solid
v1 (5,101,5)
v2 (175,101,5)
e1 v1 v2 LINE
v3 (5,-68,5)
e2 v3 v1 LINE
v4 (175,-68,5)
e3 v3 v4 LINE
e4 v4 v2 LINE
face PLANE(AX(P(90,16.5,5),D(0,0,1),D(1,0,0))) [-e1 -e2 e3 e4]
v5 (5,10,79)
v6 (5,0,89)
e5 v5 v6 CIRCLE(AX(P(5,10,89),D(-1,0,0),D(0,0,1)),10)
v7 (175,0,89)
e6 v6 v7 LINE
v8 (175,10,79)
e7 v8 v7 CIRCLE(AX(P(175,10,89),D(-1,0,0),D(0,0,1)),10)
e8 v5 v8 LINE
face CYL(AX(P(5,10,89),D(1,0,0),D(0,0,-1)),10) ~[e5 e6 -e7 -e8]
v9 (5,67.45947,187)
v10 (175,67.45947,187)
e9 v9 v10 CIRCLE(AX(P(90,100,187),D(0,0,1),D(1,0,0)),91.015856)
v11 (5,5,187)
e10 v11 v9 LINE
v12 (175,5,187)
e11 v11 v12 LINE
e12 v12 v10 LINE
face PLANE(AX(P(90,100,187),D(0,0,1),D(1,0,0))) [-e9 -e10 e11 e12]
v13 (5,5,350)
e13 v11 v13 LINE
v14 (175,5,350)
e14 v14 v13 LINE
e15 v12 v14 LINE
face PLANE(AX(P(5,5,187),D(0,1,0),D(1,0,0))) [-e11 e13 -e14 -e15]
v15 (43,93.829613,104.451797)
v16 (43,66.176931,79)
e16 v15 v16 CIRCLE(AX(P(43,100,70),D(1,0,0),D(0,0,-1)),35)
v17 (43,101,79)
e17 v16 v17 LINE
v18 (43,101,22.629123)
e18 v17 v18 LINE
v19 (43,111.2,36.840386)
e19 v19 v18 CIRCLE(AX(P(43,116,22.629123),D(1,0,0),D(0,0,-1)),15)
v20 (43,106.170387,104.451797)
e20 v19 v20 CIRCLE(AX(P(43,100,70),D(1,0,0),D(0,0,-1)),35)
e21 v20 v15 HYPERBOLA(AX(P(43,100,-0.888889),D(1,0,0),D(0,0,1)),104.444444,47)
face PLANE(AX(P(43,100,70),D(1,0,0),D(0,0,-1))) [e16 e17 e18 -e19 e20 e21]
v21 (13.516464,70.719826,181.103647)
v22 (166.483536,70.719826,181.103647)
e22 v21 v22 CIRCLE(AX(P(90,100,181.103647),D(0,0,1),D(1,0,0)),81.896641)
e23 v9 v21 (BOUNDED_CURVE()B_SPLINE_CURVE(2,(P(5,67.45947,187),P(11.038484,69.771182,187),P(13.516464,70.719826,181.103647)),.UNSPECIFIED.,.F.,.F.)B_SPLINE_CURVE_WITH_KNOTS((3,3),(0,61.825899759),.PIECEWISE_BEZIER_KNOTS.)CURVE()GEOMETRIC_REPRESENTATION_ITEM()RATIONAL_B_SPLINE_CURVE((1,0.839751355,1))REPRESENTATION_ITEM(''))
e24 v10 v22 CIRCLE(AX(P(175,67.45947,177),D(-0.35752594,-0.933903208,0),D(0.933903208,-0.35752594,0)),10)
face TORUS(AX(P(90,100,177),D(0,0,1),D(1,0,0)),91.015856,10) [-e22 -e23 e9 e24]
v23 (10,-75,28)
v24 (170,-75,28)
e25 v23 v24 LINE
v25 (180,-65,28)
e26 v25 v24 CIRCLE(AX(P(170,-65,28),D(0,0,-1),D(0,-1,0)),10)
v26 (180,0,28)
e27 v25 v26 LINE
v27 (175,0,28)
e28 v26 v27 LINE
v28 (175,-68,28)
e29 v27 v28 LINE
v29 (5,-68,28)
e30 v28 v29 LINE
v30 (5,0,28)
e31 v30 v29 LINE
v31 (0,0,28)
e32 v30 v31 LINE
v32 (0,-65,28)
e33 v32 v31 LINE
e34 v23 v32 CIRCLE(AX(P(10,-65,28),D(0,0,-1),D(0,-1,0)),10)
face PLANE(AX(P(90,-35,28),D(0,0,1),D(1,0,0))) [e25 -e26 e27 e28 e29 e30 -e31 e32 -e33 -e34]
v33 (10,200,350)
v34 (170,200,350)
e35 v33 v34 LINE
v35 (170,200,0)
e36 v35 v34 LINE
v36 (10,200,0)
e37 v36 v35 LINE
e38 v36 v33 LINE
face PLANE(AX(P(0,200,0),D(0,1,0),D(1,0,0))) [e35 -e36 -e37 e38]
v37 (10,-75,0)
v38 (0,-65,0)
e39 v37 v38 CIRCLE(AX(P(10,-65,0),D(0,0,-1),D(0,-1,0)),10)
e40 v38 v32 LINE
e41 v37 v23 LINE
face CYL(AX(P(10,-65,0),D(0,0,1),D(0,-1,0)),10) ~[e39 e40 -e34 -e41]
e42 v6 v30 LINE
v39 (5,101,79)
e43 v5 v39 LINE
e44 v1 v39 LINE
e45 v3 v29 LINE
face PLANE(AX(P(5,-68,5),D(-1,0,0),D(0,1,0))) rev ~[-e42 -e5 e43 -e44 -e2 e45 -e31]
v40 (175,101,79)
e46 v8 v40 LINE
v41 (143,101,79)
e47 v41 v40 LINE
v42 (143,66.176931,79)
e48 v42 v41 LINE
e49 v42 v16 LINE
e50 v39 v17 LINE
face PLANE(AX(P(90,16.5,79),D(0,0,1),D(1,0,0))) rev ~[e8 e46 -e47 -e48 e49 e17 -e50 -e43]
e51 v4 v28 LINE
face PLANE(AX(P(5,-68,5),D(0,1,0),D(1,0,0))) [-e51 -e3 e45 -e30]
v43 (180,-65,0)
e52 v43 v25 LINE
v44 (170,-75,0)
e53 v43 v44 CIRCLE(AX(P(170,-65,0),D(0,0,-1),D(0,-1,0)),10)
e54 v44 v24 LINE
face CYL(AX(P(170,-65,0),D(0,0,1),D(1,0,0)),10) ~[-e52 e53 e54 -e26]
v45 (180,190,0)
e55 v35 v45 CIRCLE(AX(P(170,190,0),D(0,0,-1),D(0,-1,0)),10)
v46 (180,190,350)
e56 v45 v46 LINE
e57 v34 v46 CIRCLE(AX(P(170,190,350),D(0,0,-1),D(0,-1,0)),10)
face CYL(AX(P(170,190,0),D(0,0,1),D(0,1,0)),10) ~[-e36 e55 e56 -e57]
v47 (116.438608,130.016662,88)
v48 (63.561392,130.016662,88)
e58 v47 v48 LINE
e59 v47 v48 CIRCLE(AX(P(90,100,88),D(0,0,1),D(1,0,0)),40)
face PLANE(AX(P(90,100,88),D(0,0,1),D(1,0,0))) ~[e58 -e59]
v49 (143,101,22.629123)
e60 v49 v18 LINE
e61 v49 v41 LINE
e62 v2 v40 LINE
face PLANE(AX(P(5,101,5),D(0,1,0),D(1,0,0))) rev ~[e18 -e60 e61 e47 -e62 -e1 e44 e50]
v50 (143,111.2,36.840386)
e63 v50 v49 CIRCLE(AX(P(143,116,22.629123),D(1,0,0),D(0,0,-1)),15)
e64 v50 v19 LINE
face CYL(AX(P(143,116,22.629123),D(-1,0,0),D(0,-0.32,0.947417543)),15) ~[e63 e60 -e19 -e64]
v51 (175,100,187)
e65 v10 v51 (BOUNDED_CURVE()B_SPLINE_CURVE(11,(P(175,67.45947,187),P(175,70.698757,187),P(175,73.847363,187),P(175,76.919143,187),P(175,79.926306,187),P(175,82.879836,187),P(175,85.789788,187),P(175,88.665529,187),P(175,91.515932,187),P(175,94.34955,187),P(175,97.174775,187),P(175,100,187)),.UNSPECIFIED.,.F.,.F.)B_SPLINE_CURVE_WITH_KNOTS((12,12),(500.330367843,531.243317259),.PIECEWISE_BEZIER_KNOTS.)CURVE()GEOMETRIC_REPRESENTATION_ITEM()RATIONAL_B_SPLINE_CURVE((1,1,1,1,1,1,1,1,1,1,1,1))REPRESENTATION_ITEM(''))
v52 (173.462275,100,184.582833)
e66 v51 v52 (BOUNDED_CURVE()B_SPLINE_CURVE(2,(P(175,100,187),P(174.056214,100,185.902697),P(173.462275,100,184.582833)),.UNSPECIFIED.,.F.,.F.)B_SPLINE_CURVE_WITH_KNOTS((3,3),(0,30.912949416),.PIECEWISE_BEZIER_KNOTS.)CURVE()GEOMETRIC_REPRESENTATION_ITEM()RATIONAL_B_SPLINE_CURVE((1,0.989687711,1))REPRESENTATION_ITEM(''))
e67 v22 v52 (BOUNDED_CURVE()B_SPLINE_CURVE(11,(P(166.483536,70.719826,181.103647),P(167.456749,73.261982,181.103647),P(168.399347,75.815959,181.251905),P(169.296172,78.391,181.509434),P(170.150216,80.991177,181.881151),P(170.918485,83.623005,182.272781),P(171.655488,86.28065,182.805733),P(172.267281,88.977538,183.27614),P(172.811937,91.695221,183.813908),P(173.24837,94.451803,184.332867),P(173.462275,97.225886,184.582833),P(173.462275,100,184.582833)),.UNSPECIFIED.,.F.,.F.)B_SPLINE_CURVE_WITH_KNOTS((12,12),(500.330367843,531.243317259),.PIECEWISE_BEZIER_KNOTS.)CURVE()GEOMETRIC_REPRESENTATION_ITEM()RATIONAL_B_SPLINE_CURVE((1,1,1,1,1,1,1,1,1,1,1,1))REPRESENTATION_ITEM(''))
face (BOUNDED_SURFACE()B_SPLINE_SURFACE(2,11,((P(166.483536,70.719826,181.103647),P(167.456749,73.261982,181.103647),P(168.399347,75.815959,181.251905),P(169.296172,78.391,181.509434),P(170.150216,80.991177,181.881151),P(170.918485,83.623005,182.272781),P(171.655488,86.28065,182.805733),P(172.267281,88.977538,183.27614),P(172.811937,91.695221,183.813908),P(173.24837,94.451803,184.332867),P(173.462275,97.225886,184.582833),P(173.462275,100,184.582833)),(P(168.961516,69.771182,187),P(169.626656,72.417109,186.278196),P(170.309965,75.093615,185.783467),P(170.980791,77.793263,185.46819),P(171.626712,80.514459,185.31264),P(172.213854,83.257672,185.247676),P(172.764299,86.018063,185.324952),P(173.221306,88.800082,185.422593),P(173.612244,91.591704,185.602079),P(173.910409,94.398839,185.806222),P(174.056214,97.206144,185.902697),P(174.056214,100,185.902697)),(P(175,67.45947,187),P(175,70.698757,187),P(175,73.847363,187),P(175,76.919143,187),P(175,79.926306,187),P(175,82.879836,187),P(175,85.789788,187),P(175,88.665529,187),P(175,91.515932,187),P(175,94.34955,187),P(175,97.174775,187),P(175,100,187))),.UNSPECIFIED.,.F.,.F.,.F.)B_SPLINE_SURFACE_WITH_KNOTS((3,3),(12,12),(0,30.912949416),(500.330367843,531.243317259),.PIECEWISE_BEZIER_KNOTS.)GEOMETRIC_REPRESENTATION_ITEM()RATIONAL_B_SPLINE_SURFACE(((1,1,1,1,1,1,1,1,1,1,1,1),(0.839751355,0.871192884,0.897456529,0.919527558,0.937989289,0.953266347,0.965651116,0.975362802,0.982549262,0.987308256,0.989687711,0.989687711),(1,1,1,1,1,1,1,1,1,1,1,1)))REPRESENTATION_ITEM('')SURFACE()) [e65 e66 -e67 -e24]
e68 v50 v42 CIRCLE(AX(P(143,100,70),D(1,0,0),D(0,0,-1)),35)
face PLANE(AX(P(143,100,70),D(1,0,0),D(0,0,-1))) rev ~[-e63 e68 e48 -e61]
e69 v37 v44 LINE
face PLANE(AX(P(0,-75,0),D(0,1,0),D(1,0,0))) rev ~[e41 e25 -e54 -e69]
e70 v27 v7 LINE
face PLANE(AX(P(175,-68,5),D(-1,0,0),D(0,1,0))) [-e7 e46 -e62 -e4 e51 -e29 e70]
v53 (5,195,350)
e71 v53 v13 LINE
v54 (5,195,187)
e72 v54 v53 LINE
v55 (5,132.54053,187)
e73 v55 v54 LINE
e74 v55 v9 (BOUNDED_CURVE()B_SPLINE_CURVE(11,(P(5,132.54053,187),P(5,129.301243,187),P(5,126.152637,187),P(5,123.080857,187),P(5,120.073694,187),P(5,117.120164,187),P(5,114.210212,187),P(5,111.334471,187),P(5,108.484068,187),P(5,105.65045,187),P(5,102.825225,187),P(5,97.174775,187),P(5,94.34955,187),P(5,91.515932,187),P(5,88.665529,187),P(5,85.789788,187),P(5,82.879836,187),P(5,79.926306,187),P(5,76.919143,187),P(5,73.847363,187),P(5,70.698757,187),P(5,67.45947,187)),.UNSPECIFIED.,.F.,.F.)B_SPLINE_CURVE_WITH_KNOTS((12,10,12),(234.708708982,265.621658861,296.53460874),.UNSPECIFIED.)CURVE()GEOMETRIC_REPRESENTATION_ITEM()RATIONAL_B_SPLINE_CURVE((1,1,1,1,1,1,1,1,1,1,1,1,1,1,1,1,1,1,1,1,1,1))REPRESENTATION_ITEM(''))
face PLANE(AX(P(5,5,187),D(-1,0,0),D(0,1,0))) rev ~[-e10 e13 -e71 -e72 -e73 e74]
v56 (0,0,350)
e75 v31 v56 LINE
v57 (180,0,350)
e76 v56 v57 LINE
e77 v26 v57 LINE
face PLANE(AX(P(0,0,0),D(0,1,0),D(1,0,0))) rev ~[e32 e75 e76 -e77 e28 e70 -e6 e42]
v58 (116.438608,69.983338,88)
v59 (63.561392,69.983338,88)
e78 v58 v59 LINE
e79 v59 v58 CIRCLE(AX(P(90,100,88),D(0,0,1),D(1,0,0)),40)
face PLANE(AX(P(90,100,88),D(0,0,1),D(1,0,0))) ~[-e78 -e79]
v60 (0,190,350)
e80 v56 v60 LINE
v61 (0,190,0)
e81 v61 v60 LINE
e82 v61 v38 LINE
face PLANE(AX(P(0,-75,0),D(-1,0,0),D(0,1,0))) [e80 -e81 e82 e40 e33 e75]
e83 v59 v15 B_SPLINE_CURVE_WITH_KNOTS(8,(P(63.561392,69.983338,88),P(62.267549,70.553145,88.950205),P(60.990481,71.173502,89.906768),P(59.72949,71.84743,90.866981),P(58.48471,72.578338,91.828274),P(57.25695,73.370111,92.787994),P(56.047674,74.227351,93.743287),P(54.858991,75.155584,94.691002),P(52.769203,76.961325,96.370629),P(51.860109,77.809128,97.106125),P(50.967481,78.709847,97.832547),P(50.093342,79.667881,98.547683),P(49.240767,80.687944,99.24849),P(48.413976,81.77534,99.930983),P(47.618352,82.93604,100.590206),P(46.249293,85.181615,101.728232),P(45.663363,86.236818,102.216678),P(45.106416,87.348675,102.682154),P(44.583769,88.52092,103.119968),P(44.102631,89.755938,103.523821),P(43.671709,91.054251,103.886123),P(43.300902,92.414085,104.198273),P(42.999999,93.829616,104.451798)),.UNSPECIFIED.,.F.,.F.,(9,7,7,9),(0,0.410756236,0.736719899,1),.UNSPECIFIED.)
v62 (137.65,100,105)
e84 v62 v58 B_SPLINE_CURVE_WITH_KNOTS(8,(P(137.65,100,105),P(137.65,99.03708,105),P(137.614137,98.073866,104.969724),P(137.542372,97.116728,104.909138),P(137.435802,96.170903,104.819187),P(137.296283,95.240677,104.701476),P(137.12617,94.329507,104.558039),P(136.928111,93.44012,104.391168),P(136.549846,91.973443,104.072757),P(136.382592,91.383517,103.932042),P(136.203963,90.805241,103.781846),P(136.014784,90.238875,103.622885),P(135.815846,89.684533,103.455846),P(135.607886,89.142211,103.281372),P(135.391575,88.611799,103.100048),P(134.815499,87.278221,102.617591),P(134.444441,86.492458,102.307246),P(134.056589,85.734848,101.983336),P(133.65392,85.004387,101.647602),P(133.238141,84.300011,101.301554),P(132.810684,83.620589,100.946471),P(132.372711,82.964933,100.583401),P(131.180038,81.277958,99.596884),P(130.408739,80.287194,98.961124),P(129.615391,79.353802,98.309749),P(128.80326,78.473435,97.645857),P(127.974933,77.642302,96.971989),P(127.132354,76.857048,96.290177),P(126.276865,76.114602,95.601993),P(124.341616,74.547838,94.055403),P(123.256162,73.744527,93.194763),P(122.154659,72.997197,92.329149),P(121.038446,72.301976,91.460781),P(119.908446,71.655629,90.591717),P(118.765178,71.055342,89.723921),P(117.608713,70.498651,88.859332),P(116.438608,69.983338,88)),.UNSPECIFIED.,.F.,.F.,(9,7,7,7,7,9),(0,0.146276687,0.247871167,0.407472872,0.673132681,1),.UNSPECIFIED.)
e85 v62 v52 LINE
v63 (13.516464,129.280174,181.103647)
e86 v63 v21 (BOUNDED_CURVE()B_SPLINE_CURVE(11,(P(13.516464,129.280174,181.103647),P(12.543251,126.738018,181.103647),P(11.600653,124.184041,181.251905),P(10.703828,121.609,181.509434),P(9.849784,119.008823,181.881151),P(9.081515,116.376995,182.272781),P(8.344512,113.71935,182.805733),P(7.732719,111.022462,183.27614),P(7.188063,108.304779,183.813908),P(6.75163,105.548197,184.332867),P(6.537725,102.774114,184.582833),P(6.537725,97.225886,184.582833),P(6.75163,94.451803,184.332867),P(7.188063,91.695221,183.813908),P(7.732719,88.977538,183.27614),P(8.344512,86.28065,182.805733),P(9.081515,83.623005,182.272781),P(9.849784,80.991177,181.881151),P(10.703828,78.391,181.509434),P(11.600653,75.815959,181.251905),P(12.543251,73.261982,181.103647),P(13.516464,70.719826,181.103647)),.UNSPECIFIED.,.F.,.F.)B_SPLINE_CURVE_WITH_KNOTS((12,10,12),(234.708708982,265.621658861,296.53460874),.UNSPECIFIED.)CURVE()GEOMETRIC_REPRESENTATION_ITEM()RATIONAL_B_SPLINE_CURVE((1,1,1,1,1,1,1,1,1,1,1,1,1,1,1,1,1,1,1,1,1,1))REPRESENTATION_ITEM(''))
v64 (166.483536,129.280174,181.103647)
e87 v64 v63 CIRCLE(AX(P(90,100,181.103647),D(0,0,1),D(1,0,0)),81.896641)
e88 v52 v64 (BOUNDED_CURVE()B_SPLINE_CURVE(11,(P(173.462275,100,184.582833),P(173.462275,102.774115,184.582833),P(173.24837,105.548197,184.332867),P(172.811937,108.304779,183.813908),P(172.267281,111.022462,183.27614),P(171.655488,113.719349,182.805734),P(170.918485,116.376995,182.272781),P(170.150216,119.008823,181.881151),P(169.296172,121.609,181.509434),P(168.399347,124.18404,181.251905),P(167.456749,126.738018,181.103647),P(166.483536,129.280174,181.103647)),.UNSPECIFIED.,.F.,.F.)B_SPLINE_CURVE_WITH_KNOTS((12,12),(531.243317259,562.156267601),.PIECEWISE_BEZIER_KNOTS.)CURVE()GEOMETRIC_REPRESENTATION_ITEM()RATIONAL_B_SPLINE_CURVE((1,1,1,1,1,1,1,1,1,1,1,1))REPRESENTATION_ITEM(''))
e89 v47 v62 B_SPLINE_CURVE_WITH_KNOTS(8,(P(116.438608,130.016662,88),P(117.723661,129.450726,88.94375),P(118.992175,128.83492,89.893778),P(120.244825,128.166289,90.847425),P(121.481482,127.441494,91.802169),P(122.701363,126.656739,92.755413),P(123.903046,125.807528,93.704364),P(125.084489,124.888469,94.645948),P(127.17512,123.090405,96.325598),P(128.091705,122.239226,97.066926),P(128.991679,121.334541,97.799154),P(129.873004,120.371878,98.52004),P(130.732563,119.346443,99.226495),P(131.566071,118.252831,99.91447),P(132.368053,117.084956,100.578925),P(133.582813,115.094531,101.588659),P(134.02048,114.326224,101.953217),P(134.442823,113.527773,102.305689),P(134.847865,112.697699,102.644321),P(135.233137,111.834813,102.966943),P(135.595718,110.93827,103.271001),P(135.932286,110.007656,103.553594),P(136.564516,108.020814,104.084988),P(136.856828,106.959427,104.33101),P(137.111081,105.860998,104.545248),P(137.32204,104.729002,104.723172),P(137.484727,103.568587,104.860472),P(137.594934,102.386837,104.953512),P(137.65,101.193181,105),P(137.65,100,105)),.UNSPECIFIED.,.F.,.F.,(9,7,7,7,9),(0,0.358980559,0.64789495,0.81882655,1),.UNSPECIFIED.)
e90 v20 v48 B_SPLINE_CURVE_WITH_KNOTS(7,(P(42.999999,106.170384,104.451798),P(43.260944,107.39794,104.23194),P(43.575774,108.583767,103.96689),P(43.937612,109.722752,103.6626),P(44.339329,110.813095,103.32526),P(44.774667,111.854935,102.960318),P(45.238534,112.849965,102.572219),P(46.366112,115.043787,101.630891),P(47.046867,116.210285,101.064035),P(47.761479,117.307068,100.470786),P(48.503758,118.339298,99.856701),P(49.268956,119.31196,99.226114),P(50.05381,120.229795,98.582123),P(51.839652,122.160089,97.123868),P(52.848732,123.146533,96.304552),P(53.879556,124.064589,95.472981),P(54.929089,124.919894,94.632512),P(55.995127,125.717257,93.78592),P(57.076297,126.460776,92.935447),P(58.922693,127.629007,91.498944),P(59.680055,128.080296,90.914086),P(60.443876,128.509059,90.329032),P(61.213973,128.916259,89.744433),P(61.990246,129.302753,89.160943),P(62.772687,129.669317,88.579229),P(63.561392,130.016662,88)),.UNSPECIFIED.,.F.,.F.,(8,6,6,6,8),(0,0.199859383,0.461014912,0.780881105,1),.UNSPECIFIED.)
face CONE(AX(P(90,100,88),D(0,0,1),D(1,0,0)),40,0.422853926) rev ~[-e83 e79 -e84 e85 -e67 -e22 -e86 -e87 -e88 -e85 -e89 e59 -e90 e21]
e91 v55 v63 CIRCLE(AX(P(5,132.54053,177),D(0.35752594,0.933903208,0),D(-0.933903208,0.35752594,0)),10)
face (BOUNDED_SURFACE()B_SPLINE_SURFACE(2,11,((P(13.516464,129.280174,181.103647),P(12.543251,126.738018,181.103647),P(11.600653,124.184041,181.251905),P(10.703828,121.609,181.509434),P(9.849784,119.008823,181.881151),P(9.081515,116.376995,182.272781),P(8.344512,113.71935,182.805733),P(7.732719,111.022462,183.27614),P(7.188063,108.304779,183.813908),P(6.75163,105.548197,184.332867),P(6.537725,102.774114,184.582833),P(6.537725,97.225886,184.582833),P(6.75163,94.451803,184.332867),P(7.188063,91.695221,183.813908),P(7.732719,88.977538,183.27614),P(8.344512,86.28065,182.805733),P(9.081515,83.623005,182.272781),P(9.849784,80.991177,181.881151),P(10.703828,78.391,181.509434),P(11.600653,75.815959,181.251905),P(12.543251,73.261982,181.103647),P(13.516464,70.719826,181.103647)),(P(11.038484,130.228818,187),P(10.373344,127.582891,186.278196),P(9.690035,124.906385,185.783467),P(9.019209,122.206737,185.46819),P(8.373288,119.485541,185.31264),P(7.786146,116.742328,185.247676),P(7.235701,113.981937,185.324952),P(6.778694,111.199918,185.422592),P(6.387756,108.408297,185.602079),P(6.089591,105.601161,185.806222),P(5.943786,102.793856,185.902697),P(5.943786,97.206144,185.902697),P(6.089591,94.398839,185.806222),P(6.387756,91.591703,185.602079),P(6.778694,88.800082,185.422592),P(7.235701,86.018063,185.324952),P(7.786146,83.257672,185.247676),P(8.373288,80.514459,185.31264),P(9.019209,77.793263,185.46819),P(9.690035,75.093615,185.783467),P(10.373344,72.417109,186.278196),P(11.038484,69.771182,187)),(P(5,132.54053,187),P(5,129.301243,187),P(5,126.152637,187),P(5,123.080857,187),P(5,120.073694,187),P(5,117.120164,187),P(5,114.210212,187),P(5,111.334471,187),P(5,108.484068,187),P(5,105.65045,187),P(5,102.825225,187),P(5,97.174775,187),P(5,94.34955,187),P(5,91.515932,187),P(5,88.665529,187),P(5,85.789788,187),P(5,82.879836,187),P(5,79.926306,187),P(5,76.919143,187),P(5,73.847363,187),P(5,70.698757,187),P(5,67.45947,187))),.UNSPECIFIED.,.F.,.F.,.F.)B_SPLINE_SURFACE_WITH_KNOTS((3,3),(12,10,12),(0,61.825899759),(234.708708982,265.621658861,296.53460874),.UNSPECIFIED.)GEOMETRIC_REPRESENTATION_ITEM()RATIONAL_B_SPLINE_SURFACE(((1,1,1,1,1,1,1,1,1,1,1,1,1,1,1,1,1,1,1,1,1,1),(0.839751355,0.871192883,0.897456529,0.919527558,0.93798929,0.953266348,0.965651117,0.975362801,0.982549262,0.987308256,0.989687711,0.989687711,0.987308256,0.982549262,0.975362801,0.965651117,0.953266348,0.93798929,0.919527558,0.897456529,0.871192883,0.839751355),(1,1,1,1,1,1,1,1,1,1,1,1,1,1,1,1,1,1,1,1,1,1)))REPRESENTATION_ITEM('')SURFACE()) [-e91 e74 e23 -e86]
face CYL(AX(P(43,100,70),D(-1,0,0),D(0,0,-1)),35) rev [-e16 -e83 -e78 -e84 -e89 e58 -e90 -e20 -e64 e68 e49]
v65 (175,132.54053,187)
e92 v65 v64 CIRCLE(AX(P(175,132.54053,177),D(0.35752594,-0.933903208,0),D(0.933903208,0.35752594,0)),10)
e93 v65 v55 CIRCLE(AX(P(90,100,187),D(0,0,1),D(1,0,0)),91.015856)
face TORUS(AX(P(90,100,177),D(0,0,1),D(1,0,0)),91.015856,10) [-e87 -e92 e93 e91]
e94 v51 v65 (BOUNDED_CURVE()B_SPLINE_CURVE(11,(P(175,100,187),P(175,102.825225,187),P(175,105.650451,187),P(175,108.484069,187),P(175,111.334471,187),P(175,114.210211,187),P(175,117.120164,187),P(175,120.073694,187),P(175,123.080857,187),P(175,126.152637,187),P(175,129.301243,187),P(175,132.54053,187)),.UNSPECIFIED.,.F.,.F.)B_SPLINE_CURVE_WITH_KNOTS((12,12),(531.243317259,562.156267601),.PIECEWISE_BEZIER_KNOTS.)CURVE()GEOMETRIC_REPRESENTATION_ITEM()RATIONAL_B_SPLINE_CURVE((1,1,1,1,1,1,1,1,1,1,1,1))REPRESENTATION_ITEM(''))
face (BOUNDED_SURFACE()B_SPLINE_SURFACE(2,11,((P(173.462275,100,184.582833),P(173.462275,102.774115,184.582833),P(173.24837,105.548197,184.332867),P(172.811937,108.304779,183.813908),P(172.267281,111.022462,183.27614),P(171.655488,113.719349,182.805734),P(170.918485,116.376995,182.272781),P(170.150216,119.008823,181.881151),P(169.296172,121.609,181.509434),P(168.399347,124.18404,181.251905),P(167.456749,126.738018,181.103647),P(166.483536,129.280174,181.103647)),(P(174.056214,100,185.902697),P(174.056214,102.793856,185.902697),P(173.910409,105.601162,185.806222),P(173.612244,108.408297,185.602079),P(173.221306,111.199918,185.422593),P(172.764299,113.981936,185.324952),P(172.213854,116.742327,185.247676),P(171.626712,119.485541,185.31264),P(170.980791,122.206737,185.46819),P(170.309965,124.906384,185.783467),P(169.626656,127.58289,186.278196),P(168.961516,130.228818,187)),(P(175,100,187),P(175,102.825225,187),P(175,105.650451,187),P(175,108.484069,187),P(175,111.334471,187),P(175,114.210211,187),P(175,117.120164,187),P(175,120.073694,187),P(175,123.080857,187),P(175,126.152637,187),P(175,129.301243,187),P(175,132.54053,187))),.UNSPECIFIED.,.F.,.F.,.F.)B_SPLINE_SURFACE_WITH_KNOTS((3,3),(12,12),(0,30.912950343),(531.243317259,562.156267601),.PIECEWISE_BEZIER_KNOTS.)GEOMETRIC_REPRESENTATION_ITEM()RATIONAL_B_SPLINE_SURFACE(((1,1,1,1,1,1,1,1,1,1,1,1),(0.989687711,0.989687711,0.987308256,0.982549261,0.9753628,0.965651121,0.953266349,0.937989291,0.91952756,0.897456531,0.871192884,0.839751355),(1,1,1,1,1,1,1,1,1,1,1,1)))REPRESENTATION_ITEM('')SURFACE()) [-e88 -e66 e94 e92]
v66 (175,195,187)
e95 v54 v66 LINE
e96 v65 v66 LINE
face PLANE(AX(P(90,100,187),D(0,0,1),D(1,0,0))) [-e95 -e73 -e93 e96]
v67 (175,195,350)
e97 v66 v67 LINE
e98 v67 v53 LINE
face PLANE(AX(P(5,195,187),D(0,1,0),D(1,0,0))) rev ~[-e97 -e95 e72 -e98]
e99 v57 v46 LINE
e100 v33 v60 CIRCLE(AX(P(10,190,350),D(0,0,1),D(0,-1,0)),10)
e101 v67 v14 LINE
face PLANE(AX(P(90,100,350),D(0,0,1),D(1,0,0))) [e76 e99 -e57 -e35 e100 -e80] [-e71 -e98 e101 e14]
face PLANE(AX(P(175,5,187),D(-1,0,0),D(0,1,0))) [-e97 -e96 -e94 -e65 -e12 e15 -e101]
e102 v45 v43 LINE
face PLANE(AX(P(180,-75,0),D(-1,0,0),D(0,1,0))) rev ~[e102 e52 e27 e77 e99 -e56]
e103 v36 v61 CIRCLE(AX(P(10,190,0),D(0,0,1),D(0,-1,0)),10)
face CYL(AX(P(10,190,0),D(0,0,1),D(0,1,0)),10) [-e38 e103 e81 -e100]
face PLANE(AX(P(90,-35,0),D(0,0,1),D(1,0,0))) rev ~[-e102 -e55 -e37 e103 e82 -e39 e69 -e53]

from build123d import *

# Parameters (mm, degrees)
CYLINDER_R           = 35
CYLINDER_DEPTH       = 100
CYLINDER_PITCH_ANGLE = 90
BOX003_W             = 170
BOX003_H             = 169
BOX003_DEPTH         = 74
BOX001_W             = 170
BOX001_H             = 190
BOX001_DEPTH         = 166
BOX_W                = 180
BOX_H                = 200
BOX_DEPTH            = 350
BOX002_W             = 180
BOX002_H             = 80
BOX002_DEPTH         = 28
FILLET_R             = 10
FILLET001_R          = 10
FILLET002_R          = 10
FILLET003_R          = 10
FILLET004_R          = 10
FILLET005_R          = 15
FILLET006_R          = 10


with BuildPart() as cylinder:
    # Cylinder → Cylinder (new body)
    with BuildSketch(Plane.XY):
        Circle(CYLINDER_R)
    extrude(amount=CYLINDER_DEPTH)


with BuildPart() as cylinder_1:
    # Cylinder pitch: moved
    add(cylinder.part.rotate(Axis((0, 0, 0), (0, 1, 0)), CYLINDER_PITCH_ANGLE))


with BuildPart() as cylinder_2:
    # Cylinder placement: moved
    add(cylinder_1.part.moved(Location((43, 100, 70))))


with BuildPart() as cube003:
    # Box003 → Box003 (new body)
    with BuildSketch(Plane(origin=(5, -68, 5), x_dir=(1, 0, 0), z_dir=(0, 0, 1))):
        with Locations((85, 84.5)):
            Rectangle(BOX003_W, BOX003_H)
    extrude(amount=BOX003_DEPTH)


with BuildPart() as cube001:
    # Box001 → Box001 (new body)
    with BuildSketch(Plane(origin=(5, 5, 187), x_dir=(1, 0, 0), z_dir=(0, 0, 1))):
        with Locations((85, 95)):
            Rectangle(BOX001_W, BOX001_H)
    extrude(amount=BOX001_DEPTH)


with BuildPart() as cone:
    # Cone → Cone (revolve)
    with BuildSketch(Plane(origin=(90, 100, 88), x_dir=(1, 0, 0), z_dir=(0, -1, 0))):
        Polygon((0, 0), (40, 0), (85, 100), (0, 100), align=None)
    revolve(axis=Axis((90, 100, 88), (0, 0, 1)))


with BuildPart() as cut001:
    # Box → Box (new body)
    with BuildSketch(Plane.XY):
        with Locations((90, 100)):
            Rectangle(BOX_W, BOX_H)
    extrude(amount=BOX_DEPTH)

    # Cut: cut Cone
    add(cone.part, mode=Mode.SUBTRACT)

    # Cut001: cut Cube001
    add(cube001.part, mode=Mode.SUBTRACT)


with BuildPart() as fillet006:
    # Box002 → Box002 (new body)
    with BuildSketch(Plane(origin=(0, -75, 0), x_dir=(1, 0, 0), z_dir=(0, 0, 1))):
        with Locations((90, 40)):
            Rectangle(BOX002_W, BOX002_H)
    extrude(amount=BOX002_DEPTH)

    # Fusion: union Cut001
    add(cut001.part)

    # Cut002: cut Cube003
    add(cube003.part, mode=Mode.SUBTRACT)

    # Cut003: cut Cylinder
    add(cylinder_2.part, mode=Mode.SUBTRACT)

    # Fillet
    fillet_edges = [fillet006.edges().sort_by_distance(p)[0] for p in [
        (180, 200, 175),
    ]]
    fillet(fillet_edges, radius=FILLET_R)

    # Fillet001
    fillet001_edges = [fillet006.edges().sort_by_distance(p)[0] for p in [
        (0, 200, 175),
    ]]
    fillet(fillet001_edges, radius=FILLET001_R)

    # Fillet002
    fillet002_edges = [fillet006.edges().sort_by_distance(p)[0] for p in [
        (180, -75, 14),
    ]]
    fillet(fillet002_edges, radius=FILLET002_R)

    # Fillet003
    fillet003_edges = [fillet006.edges().sort_by_distance(p)[0] for p in [
        (0, -75, 14),
    ]]
    fillet(fillet003_edges, radius=FILLET003_R)

    # Fillet004
    fillet004_edges = [fillet006.edges().sort_by_distance(p)[0] for p in [
        (5.45, 100, 187),
    ]]
    fillet(fillet004_edges, radius=FILLET004_R)

    # Fillet005
    fillet005_edges = [fillet006.edges().sort_by_distance(p)[0] for p in [
        (93, 101, 35.014289),
    ]]
    fillet(fillet005_edges, radius=FILLET005_R)

    # Fillet006
    fillet006_edges = [fillet006.edges().sort_by_distance(p)[0] for p in [
        (90, 0, 79),
    ]]
    fillet(fillet006_edges, radius=FILLET006_R)


solid = fillet006.part
